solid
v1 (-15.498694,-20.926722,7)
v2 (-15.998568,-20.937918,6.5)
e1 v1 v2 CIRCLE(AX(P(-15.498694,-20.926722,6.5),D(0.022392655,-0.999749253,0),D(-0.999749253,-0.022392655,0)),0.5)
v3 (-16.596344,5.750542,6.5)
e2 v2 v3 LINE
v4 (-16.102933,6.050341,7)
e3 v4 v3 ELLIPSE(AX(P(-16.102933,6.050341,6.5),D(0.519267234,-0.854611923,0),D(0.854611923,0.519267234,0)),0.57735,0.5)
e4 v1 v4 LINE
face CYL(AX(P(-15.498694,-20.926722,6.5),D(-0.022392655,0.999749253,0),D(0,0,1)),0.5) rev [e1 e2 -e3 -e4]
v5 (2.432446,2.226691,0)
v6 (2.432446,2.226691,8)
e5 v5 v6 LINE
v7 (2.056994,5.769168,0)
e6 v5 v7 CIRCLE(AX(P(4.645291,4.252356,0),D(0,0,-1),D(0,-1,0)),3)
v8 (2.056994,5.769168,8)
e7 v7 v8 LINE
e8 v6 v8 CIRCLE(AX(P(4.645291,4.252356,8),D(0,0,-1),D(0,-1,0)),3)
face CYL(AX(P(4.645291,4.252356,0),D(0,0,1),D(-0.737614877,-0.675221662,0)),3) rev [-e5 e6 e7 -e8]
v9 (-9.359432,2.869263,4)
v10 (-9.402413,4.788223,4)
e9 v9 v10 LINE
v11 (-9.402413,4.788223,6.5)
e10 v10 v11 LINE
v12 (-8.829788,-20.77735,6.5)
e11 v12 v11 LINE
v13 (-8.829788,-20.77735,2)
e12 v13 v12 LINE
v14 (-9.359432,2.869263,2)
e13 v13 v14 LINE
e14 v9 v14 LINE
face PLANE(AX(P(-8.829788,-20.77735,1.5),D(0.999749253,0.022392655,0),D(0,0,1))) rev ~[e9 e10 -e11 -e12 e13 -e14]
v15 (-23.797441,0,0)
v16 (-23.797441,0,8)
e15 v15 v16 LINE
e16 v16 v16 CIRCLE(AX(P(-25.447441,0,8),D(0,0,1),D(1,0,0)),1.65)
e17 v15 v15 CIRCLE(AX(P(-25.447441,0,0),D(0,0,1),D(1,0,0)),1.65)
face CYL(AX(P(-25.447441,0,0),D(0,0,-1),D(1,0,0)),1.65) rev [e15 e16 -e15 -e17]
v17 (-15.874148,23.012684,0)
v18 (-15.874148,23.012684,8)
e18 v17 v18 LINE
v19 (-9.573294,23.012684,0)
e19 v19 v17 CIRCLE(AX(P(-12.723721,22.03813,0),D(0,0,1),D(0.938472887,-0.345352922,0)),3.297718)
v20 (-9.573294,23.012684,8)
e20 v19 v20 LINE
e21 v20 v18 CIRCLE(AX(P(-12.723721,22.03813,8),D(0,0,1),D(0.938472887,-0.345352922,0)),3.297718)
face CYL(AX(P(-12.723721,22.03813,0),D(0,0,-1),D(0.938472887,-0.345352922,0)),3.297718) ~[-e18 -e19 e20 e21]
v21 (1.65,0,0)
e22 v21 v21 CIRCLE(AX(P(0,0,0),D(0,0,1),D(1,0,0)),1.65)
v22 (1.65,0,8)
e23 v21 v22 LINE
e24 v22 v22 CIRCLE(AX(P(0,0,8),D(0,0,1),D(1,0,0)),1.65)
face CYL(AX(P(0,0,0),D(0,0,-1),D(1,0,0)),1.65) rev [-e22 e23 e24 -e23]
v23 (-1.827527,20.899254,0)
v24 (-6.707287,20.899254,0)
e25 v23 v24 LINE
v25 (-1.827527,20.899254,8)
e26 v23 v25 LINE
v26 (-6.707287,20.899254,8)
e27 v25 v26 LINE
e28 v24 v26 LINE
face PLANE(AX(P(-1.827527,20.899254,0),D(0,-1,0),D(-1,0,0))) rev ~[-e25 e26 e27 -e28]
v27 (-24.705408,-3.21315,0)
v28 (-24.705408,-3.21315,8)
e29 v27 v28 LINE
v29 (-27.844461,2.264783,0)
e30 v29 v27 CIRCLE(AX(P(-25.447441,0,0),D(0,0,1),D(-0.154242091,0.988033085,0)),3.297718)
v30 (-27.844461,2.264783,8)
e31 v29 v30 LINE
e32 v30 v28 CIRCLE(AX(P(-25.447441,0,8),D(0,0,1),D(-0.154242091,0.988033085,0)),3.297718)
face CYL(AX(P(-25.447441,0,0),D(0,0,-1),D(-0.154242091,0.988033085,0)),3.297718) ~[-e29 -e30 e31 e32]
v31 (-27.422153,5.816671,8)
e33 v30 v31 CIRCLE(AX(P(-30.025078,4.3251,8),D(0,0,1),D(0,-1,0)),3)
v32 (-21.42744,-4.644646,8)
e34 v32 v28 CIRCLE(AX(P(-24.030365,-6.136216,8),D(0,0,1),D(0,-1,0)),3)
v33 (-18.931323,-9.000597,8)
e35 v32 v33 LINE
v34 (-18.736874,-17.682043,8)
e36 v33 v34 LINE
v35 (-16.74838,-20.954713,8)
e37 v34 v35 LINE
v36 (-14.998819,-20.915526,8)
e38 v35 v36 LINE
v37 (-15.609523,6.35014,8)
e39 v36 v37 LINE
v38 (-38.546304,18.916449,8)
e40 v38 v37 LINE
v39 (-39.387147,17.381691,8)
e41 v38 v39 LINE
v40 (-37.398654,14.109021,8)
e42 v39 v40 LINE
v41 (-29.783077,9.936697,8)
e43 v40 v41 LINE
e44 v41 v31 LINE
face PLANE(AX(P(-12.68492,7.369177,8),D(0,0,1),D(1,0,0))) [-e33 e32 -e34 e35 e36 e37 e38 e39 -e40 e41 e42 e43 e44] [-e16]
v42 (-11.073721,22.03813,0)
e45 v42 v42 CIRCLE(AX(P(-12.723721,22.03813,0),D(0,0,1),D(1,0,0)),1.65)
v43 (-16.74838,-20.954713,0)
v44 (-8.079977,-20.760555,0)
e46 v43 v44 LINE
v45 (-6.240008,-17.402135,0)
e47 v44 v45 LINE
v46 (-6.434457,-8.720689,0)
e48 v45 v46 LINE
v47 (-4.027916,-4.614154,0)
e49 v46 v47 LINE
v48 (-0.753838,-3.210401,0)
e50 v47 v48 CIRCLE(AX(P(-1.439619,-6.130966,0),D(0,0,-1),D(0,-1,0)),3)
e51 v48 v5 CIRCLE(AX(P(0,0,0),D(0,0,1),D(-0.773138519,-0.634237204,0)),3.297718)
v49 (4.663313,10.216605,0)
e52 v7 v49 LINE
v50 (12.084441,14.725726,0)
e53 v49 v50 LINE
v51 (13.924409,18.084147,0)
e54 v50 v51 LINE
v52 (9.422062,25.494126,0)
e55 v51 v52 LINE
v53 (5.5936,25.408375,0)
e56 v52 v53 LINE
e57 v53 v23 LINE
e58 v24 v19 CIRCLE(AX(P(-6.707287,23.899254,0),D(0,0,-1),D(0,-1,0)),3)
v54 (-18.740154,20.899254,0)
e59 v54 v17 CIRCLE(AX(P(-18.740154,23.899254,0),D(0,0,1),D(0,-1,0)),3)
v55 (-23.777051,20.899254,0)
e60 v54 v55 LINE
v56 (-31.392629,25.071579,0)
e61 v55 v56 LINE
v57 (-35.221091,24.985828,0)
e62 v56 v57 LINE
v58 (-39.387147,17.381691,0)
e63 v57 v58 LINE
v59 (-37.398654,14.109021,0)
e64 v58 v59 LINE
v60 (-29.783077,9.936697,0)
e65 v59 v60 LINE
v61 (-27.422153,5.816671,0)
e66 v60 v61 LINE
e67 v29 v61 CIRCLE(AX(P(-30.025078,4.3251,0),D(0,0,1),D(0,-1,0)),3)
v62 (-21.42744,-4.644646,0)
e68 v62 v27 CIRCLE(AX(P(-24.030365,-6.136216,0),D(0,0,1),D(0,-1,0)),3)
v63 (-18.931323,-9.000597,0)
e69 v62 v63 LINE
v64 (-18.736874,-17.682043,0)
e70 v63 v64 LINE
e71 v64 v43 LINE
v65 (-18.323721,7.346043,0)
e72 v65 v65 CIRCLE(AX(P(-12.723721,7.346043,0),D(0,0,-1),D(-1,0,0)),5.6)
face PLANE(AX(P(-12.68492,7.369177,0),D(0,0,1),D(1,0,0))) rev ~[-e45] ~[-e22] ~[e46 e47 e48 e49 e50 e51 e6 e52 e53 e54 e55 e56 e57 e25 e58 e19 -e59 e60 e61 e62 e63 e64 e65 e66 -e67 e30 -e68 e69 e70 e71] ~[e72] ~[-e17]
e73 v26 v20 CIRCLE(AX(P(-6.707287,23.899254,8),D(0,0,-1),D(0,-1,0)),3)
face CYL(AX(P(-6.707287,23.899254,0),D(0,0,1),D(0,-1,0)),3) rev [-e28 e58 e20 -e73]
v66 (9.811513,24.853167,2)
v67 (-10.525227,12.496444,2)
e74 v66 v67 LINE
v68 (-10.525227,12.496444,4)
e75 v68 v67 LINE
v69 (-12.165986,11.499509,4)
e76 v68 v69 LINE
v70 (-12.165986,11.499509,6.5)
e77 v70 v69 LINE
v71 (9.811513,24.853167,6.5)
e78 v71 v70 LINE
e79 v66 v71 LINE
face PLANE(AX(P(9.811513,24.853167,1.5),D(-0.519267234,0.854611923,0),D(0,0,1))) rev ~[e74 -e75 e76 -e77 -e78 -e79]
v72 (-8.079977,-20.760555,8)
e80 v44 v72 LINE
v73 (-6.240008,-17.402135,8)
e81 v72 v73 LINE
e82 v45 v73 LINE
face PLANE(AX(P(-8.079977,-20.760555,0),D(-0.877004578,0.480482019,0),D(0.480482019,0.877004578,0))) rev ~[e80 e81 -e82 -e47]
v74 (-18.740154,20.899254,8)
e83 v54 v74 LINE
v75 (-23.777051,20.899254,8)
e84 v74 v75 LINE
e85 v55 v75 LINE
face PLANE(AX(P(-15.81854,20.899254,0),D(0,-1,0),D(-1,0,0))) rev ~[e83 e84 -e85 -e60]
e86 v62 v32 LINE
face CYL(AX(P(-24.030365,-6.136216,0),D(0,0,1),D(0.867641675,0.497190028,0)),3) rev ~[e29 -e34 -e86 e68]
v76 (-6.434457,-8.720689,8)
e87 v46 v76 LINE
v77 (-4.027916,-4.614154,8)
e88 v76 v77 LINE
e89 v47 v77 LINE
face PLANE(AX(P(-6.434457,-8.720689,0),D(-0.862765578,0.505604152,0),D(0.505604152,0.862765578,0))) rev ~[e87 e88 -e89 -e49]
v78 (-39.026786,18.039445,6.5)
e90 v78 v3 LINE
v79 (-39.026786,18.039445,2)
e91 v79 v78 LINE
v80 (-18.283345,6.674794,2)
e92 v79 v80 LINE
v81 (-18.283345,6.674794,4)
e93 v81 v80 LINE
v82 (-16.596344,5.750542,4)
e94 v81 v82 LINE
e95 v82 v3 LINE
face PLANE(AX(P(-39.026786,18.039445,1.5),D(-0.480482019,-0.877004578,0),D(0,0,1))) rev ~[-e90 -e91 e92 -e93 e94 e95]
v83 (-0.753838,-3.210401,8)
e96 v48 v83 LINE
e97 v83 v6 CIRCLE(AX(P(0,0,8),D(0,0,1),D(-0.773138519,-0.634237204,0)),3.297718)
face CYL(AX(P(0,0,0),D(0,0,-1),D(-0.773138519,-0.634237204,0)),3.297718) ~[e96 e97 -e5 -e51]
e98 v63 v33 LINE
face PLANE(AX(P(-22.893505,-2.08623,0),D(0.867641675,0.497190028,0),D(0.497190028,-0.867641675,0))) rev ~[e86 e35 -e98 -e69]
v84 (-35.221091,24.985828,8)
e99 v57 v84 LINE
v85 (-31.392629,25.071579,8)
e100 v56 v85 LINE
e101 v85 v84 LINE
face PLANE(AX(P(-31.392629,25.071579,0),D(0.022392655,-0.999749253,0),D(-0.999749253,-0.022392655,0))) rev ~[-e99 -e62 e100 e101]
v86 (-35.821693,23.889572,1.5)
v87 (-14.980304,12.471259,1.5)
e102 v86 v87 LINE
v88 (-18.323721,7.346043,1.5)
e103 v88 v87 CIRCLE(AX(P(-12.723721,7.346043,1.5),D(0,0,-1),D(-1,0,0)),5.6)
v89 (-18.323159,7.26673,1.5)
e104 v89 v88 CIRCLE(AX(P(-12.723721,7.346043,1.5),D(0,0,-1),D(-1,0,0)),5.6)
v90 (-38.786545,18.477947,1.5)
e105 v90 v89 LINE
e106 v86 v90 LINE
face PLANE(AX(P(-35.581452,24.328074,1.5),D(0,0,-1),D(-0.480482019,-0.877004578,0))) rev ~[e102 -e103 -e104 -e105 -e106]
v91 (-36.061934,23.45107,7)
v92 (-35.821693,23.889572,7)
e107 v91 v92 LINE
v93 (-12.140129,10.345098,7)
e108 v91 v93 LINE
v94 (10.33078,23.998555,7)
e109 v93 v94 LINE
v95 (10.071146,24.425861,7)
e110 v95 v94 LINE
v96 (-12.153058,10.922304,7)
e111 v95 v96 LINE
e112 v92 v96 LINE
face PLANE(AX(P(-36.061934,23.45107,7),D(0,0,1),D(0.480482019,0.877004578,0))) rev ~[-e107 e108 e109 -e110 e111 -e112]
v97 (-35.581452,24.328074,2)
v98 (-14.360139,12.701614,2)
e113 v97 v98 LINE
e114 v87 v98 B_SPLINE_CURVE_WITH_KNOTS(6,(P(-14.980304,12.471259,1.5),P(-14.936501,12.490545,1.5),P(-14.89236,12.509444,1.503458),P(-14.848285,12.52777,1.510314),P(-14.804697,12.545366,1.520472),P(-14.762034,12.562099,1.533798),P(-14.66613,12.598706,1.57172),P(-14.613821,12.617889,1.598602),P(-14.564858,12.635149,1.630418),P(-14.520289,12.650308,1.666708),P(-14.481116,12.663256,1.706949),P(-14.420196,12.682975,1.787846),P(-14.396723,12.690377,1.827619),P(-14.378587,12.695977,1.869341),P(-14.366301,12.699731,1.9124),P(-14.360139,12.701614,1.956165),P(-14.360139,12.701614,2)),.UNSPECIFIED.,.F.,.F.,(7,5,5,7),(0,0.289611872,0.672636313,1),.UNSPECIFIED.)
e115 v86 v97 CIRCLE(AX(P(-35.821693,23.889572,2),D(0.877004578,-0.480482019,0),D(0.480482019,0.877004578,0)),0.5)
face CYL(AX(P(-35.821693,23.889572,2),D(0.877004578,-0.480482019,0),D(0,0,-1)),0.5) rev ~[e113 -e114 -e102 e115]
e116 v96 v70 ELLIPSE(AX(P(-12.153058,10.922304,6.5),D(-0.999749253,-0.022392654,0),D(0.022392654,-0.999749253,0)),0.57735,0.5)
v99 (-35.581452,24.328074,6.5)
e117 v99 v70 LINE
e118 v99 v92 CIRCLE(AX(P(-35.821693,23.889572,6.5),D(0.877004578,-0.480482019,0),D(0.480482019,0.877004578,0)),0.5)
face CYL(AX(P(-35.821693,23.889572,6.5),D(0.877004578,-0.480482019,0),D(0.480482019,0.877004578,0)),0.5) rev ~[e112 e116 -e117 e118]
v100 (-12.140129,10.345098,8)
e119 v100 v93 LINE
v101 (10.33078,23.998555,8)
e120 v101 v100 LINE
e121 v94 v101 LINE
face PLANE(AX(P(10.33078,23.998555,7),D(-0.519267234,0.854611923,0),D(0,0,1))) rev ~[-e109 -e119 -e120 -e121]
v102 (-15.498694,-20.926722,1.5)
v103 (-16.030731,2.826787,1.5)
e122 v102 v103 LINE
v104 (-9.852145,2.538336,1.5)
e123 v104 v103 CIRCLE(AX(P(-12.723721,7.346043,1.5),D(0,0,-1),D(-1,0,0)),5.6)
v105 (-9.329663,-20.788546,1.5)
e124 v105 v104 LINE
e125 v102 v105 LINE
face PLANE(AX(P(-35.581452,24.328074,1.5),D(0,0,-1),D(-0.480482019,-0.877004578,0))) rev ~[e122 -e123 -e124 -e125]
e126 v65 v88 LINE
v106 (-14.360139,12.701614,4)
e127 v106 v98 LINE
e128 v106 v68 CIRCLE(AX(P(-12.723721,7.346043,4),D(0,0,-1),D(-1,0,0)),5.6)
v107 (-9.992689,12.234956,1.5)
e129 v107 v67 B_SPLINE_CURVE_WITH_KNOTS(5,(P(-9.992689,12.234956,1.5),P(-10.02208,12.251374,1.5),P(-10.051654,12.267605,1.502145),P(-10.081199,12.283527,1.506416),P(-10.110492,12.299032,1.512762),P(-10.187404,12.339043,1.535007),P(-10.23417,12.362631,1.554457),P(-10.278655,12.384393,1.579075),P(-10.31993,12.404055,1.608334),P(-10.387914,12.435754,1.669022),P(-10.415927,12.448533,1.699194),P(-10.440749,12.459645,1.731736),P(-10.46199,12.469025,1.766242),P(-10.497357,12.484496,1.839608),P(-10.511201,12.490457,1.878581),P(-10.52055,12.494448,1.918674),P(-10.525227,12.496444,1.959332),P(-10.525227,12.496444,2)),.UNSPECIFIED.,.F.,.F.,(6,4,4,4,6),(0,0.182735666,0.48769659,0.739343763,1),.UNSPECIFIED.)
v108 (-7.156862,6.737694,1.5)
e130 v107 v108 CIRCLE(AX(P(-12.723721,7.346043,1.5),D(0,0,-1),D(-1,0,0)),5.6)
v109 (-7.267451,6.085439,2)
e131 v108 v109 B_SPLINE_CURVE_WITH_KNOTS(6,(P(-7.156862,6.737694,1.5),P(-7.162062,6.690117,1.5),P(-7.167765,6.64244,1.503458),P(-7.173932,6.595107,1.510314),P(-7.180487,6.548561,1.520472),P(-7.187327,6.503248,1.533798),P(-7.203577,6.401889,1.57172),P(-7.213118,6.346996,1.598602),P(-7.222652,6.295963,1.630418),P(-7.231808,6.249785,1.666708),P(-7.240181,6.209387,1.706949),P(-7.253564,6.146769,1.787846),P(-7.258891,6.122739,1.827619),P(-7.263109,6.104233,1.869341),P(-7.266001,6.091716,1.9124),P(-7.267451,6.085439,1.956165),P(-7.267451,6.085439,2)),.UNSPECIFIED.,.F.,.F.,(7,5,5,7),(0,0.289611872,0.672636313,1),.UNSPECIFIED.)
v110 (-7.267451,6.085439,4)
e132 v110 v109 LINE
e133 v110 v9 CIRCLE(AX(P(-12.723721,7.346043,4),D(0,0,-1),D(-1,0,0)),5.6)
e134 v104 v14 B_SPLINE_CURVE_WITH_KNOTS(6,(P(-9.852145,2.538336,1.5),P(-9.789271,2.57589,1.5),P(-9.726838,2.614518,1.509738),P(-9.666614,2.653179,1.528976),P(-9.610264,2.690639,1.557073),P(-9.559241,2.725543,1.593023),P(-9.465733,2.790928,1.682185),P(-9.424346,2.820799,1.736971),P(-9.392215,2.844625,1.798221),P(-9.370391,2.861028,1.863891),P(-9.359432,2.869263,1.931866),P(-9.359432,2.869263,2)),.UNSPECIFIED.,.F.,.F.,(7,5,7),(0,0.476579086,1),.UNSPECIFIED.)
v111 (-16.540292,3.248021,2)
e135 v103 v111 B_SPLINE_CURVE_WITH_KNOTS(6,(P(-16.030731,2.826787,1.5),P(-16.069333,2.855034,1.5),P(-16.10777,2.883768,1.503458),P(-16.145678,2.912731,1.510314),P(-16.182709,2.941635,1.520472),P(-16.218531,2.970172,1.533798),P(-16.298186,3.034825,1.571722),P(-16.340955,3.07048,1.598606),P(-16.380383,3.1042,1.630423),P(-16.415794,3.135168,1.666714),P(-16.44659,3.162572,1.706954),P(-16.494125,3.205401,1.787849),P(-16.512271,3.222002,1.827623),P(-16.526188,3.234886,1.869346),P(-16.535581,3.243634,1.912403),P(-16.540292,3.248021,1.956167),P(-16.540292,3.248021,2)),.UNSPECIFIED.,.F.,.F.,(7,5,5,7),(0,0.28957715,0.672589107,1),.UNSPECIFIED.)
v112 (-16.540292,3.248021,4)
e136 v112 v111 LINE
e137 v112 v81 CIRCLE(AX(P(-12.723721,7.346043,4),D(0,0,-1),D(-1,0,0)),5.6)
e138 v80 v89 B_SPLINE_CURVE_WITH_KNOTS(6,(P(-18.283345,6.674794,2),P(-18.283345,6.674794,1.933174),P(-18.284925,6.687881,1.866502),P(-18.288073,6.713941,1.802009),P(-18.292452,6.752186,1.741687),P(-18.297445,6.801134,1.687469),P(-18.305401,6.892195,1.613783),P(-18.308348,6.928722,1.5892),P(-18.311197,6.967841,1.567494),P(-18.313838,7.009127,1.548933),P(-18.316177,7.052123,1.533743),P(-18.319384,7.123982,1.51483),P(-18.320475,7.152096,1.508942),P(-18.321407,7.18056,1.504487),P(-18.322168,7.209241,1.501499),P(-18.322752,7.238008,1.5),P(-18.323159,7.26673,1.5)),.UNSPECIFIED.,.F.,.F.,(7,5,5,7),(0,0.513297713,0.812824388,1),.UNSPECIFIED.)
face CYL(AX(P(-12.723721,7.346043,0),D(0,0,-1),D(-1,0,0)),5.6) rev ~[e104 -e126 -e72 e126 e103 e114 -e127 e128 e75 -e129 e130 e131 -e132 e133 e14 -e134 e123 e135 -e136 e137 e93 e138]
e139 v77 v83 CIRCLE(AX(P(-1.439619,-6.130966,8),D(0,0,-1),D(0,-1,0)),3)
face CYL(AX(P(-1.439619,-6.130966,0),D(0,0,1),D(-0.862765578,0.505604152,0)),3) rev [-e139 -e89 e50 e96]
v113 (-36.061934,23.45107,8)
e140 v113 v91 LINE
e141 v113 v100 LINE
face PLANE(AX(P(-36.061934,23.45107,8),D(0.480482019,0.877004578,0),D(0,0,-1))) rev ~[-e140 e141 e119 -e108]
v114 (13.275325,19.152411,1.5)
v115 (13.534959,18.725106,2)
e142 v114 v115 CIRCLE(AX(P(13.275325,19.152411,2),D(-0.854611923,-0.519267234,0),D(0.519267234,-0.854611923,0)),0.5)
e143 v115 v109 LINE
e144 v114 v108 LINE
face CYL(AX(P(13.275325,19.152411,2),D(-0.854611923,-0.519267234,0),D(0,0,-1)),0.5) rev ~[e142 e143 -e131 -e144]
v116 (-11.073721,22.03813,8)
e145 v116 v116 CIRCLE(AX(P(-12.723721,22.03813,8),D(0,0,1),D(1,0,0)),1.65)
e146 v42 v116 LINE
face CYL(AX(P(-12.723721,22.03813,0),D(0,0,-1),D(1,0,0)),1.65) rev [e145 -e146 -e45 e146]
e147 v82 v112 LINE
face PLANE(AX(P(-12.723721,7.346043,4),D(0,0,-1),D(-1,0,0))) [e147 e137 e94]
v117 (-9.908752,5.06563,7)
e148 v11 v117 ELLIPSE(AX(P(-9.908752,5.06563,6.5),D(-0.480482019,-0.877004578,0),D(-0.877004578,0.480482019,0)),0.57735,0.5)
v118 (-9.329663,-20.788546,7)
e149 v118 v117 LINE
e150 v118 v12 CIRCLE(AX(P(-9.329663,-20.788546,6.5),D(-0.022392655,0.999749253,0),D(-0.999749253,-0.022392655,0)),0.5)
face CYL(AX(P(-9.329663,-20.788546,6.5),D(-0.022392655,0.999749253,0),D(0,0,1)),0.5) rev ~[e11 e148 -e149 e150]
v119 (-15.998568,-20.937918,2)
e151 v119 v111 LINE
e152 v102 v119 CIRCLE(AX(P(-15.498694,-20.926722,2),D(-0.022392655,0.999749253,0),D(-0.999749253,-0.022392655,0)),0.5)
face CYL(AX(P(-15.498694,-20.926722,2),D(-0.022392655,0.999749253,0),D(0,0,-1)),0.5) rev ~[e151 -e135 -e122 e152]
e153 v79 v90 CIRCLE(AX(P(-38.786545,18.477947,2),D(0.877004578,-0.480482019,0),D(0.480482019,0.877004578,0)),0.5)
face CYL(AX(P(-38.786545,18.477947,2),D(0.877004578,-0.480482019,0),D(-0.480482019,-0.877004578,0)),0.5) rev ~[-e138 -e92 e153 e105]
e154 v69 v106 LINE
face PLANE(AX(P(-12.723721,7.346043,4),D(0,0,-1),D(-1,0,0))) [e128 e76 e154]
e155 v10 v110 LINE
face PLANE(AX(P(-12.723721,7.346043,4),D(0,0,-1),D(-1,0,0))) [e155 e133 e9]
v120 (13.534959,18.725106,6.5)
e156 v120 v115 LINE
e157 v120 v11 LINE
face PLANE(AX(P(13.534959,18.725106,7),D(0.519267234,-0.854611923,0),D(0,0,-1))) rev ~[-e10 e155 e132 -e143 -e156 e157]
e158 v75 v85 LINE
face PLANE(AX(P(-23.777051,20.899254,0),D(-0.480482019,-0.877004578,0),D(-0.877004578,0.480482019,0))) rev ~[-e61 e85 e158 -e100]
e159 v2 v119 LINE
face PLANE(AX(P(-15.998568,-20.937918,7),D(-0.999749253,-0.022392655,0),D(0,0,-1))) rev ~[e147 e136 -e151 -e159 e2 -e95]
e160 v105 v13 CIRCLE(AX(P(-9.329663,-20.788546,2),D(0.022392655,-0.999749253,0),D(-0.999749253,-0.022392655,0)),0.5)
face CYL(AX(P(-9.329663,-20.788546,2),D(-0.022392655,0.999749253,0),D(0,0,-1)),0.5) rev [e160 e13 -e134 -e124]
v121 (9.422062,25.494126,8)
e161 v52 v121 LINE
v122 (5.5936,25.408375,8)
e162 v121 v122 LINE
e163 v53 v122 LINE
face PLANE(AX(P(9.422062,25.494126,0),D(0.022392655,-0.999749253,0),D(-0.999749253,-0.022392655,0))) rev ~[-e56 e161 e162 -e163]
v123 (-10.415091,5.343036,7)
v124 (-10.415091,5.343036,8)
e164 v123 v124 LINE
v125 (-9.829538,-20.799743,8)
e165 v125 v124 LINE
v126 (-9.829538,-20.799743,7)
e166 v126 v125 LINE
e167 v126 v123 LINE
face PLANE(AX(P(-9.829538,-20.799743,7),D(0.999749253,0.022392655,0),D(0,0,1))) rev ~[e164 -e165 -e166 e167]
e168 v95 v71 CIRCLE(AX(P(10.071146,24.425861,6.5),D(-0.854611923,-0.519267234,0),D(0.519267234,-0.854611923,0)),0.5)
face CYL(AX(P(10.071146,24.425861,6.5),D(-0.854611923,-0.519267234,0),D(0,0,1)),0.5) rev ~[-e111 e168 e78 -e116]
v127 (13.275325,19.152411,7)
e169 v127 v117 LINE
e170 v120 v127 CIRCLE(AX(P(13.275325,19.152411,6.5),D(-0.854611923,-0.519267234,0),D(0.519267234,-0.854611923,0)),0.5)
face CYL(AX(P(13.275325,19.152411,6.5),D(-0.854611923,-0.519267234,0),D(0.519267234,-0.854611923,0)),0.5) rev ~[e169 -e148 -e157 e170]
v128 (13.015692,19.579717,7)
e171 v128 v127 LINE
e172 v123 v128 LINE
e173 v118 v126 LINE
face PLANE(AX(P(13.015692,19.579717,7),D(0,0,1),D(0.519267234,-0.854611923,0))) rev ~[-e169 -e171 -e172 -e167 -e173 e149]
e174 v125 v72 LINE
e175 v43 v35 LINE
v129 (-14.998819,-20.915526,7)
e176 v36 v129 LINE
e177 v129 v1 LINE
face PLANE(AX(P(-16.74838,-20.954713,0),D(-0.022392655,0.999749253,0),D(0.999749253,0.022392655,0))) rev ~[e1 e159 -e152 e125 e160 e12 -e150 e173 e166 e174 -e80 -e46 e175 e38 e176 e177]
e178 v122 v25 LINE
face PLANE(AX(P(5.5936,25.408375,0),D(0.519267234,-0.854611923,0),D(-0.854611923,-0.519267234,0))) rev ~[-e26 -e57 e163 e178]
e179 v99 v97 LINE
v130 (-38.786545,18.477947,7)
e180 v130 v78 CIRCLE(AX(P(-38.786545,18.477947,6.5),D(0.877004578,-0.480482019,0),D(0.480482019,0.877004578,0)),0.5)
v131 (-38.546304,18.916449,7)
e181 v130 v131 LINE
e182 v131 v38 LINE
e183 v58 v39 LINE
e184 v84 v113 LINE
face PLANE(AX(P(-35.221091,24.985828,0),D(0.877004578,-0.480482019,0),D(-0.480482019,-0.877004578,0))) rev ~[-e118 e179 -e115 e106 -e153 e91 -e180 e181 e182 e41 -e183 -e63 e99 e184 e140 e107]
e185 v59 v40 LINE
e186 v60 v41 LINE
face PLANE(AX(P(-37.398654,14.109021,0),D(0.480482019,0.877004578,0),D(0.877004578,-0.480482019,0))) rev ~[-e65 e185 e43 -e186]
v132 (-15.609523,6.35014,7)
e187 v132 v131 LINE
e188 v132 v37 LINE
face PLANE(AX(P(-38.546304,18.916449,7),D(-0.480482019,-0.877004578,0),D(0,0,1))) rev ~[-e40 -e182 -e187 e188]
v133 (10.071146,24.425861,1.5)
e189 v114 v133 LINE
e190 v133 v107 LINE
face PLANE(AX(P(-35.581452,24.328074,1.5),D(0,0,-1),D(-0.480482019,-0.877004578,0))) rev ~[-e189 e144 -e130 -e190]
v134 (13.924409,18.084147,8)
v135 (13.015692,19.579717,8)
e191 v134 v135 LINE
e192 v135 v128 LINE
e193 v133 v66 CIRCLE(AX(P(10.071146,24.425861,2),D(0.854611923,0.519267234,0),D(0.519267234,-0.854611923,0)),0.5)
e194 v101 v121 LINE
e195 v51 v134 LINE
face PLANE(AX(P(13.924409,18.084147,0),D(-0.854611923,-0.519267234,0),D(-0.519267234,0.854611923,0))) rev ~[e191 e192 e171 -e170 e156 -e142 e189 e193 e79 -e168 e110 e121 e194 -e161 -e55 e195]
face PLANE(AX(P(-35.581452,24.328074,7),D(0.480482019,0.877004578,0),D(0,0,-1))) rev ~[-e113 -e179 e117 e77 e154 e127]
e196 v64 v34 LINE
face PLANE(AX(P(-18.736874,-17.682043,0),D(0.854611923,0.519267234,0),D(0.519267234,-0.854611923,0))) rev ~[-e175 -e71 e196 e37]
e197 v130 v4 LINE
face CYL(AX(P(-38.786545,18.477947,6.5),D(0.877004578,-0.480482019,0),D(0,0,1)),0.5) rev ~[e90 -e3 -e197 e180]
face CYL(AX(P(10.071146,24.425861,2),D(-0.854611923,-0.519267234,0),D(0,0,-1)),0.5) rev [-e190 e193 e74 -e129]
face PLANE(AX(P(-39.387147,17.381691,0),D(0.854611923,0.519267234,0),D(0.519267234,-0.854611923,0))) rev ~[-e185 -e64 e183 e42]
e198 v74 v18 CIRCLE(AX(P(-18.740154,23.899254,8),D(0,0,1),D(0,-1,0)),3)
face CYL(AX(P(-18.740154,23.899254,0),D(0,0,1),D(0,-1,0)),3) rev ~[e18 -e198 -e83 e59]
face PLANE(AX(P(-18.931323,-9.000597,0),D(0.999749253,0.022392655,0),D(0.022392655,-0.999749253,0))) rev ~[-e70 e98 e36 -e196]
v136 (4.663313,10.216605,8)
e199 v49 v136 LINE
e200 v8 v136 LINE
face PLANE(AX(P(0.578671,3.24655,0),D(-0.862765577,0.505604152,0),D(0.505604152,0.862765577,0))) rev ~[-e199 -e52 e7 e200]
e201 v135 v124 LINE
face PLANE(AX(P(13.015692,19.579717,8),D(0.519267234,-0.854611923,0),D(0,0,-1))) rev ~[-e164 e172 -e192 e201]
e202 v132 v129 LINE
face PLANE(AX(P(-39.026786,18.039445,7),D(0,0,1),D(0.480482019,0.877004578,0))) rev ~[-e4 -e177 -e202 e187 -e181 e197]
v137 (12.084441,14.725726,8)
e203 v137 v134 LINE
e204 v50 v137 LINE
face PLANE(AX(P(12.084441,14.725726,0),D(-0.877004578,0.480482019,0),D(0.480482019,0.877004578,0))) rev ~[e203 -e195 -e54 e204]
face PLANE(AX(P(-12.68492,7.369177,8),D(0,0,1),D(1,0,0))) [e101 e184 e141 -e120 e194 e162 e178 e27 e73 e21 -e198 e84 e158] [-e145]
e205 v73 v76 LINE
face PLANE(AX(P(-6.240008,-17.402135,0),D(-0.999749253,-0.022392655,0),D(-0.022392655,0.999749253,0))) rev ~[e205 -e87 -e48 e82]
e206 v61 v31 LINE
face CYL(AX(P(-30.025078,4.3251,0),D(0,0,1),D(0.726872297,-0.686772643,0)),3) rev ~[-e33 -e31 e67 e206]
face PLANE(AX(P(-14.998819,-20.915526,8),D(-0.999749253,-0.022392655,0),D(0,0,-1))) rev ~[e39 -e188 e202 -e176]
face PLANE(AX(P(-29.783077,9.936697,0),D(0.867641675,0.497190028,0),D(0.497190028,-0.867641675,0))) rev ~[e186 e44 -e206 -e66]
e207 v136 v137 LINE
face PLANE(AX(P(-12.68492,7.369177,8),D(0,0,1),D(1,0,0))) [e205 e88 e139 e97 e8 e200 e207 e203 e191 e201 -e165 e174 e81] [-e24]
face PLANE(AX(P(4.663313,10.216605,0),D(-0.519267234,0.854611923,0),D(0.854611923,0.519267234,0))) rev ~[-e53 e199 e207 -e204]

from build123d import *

# Parameters (mm, degrees)
SKETCH1_R                        = 1.65
SKETCH1_R_2                      = 2.565
BOSS_EXTRUDE2_DEPTH              = 8
CUT_EXTRUDE1_REACH               = 80.832
CUT_EXTRUDE1_OFFSET_FROM_SURFACE = 13
CUT_EXTRUDE2_REACH               = 61.944
CUT_EXTRUDE2_OFFSET_FROM_SURFACE = 13
CUT_EXTRUDE3_REACH               = 80.174
CUT_EXTRUDE3_OFFSET_FROM_SURFACE = 13
FILLET1_R                        = 3
FILLET2_R                        = 0.5
SKETCH5_R                        = 5.6
CUT_EXTRUDE4_DEPTH               = 4


with BuildPart() as part:
    # Sketch1 → Boss-Extrude2 (new body)
    with BuildSketch(Plane.XY):
        with BuildLine():
            Line((-15.818539514, 20.899253914), (-23.777051469, 20.899253914))
            Line((-23.777051469, 20.899253914), (-31.392628778, 25.071578724))
            Line((-31.392628778, 25.071578724), (-35.221090626, 24.985827798))
            Line((-35.221090626, 24.985827798), (-39.387147416, 17.381691254))
            Line((-39.387147416, 17.381691254), (-37.398654012, 14.109021499))
            Line((-37.398654012, 14.109021499), (-29.783076702, 9.93669669))
            Line((-29.783076702, 9.93669669), (-25.956088039, 3.258254515))
            ThreePointArc((-25.956088039, 3.258254515), (-28.308678707, -1.639592518), (-22.893505274, -2.086230066))
            Line((-22.893505274, -2.086230066), (-18.931323152, -9.000597084))
            Line((-18.931323152, -9.000597084), (-18.736873775, -17.682042904))
            Line((-18.736873775, -17.682042904), (-16.748380371, -20.954712658))
            Line((-16.748380371, -20.954712658), (-8.079976555, -20.7605554))
            Line((-8.079976555, -20.7605554), (-6.240008112, -17.402134719))
            Line((-6.240008112, -17.402134719), (-6.434457489, -8.7206889))
            Line((-6.434457489, -8.7206889), (-2.549592829, -2.09153546))
            ThreePointArc((-2.549592829, -2.09153546), (2.845157596, -1.667339925), (0.578670581, 3.246549635))
            Line((0.578670581, 3.246549635), (4.66331299, 10.216604874))
            Line((4.66331299, 10.216604874), (12.084440923, 14.725725884))
            Line((12.084440923, 14.725725884), (13.924409366, 18.084146564))
            Line((13.924409366, 18.084146564), (9.42206234, 25.49412585))
            Line((9.42206234, 25.49412585), (5.593600493, 25.408374924))
            Line((5.593600493, 25.408374924), (-1.82752744, 20.899253914))
            Line((-1.82752744, 20.899253914), (-9.628901603, 20.899253914))
            ThreePointArc((-9.628901603, 20.899253914), (-12.723720558, 25.335848494), (-15.818539514, 20.899253914))
        make_face()
        Circle(SKETCH1_R, mode=Mode.SUBTRACT)
        with Locations((-25.447441117, 0)):
            Circle(SKETCH1_R, mode=Mode.SUBTRACT)
        with Locations((-12.723720558, 22.038130468)):
            Circle(SKETCH1_R, mode=Mode.SUBTRACT)
        with Locations((-12.723720558, 7.346043489)):
            Circle(SKETCH1_R_2, mode=Mode.SUBTRACT)
    extrude(amount=BOSS_EXTRUDE2_DEPTH)

    # Cut-Extrude1: up to this face of the body (flat: up to its plane, moved by the offset)
    cut_extrude1_end = Plane(part.part.faces().sort_by_distance((-27.869582371, 6.597475602, 4))[0]).offset(-CUT_EXTRUDE1_OFFSET_FROM_SURFACE)
    # Sketch2 → Cut-Extrude1 (cut, up to the picked face)
    with BuildSketch(Plane(origin=(18.195090402, 11.055444017, 0), x_dir=(0, 0, -1), z_dir=(0.854611923, 0.519267234, 0)), mode=Mode.PRIVATE) as cut_extrude1_sk1:
        Polygon((-1.5, 8.974437732), (-1.5, 16.145015669), (-7, 16.145015669), (-7, 15.145015669), (-8, 15.145015669), (-8, 9.974437732), (-7, 9.974437732), (-7, 8.974437732), align=None)
    cut_extrude1_tool1 = split(extrude(cut_extrude1_sk1.sketch, amount=-CUT_EXTRUDE1_REACH, mode=Mode.PRIVATE), bisect_by=cut_extrude1_end, keep=Keep.BOTH, mode=Mode.PRIVATE)
    add(cut_extrude1_tool1.solids().sort_by_distance((11.673236, 21.789136, 4.626706))[0], mode=Mode.SUBTRACT)

    # Cut-Extrude2: up to this face of the body (flat: up to its plane, moved by the offset)
    cut_extrude2_end = Plane(part.part.faces().sort_by_distance((-5.728214521, 20.899253914, 4))[0]).offset(-CUT_EXTRUDE2_OFFSET_FROM_SURFACE)
    # Sketch3 → Cut-Extrude2 (cut, up to the picked face)
    with BuildSketch(Plane(origin=(0.460715831, -20.569258657, 0), x_dir=(0.999749253, 0.022392655, 0), z_dir=(0.022392655, -0.999749253, 0)), mode=Mode.PRIVATE) as cut_extrude2_sk1:
        Polygon((-16.463412412, 1.5), (-9.292834476, 1.5), (-9.292834476, 7), (-10.292834476, 7), (-10.292834476, 8), (-15.463412412, 8), (-15.463412412, 7), (-16.463412412, 7), align=None)
    cut_extrude2_tool1 = split(extrude(cut_extrude2_sk1.sketch, amount=-CUT_EXTRUDE2_REACH, mode=Mode.PRIVATE), bisect_by=cut_extrude2_end, keep=Keep.BOTH, mode=Mode.PRIVATE)
    add(cut_extrude2_tool1.solids().sort_by_distance((-12.414178, -20.857634, 4.626706))[0], mode=Mode.SUBTRACT)

    # Cut-Extrude3: up to this face of the body (flat: up to its plane, moved by the offset)
    cut_extrude3_end = Plane(part.part.faces().sort_by_distance((2.620991785, 6.731577255, 4))[0]).offset(-CUT_EXTRUDE3_OFFSET_FROM_SURFACE)
    # Sketch4 → Cut-Extrude3 (cut, up to the picked face)
    with BuildSketch(Plane(origin=(-37.618496326, 20.609939227, 0), x_dir=(0, 0, 1), z_dir=(-0.877004578, 0.480482019, 0)), mode=Mode.PRIVATE) as cut_extrude3_sk1:
        Polygon((1.5, 4.23958464), (1.5, -2.930993297), (7, -2.930993297), (7, -1.930993297), (8, -1.930993297), (8, 3.23958464), (7, 3.23958464), (7, 4.23958464), align=None)
    cut_extrude3_tool1 = split(extrude(cut_extrude3_sk1.sketch, amount=-CUT_EXTRUDE3_REACH, mode=Mode.PRIVATE), bisect_by=cut_extrude3_end, keep=Keep.BOTH, mode=Mode.PRIVATE)
    add(cut_extrude3_tool1.solids().sort_by_distance((-37.304119, 21.18376, 4.626706))[0], mode=Mode.SUBTRACT)

    # Fillet1
    fillet1_edges = [part.edges().sort_by_distance(p)[0] for p in [
        (-2.549592829, -2.09153546, 4),
        (-22.893505274, -2.086230066, 4),
        (-25.956088039, 3.258254515, 4),
        (-15.818539514, 20.899253914, 4),
        (-9.628901603, 20.899253914, 4),
        (0.578670581, 3.246549635, 4),
    ]]
    fillet(fillet1_edges, radius=FILLET1_R)

    # Fillet2
    fillet2_edges = [part.edges().sort_by_distance(p)[0] for p in [
        (2.066272904, 11.756664371, 1.5),
        (2.066272904, 11.756664371, 7),
        (-9.116100814, -7.994563327, 7),
        (-9.116100814, -7.994563327, 1.5),
        (-16.297456112, -7.593688192, 7),
        (-16.297456112, -7.593688192, 1.5),
        (-1.177236693, 18.176338061, 1.5),
        (-1.177236693, 18.176338061, 7),
        (-23.873719146, 17.913791789, 7),
        (-23.873719146, 17.913791789, 1.5),
        (-27.811564847, 11.894993235, 7),
        (-27.811564847, 11.894993235, 1.5),
    ]]
    fillet(fillet2_edges, radius=FILLET2_R)

    # Sketch5 → Cut-Extrude4 (cut)
    with BuildSketch(Plane(origin=(0, 0, 0), x_dir=(-1, 0, 0), z_dir=(0, 0, -1))):
        with Locations((12.723720558, 7.346043489)):
            Circle(SKETCH5_R)
    extrude(amount=-CUT_EXTRUDE4_DEPTH, mode=Mode.SUBTRACT)


solid = part.part
